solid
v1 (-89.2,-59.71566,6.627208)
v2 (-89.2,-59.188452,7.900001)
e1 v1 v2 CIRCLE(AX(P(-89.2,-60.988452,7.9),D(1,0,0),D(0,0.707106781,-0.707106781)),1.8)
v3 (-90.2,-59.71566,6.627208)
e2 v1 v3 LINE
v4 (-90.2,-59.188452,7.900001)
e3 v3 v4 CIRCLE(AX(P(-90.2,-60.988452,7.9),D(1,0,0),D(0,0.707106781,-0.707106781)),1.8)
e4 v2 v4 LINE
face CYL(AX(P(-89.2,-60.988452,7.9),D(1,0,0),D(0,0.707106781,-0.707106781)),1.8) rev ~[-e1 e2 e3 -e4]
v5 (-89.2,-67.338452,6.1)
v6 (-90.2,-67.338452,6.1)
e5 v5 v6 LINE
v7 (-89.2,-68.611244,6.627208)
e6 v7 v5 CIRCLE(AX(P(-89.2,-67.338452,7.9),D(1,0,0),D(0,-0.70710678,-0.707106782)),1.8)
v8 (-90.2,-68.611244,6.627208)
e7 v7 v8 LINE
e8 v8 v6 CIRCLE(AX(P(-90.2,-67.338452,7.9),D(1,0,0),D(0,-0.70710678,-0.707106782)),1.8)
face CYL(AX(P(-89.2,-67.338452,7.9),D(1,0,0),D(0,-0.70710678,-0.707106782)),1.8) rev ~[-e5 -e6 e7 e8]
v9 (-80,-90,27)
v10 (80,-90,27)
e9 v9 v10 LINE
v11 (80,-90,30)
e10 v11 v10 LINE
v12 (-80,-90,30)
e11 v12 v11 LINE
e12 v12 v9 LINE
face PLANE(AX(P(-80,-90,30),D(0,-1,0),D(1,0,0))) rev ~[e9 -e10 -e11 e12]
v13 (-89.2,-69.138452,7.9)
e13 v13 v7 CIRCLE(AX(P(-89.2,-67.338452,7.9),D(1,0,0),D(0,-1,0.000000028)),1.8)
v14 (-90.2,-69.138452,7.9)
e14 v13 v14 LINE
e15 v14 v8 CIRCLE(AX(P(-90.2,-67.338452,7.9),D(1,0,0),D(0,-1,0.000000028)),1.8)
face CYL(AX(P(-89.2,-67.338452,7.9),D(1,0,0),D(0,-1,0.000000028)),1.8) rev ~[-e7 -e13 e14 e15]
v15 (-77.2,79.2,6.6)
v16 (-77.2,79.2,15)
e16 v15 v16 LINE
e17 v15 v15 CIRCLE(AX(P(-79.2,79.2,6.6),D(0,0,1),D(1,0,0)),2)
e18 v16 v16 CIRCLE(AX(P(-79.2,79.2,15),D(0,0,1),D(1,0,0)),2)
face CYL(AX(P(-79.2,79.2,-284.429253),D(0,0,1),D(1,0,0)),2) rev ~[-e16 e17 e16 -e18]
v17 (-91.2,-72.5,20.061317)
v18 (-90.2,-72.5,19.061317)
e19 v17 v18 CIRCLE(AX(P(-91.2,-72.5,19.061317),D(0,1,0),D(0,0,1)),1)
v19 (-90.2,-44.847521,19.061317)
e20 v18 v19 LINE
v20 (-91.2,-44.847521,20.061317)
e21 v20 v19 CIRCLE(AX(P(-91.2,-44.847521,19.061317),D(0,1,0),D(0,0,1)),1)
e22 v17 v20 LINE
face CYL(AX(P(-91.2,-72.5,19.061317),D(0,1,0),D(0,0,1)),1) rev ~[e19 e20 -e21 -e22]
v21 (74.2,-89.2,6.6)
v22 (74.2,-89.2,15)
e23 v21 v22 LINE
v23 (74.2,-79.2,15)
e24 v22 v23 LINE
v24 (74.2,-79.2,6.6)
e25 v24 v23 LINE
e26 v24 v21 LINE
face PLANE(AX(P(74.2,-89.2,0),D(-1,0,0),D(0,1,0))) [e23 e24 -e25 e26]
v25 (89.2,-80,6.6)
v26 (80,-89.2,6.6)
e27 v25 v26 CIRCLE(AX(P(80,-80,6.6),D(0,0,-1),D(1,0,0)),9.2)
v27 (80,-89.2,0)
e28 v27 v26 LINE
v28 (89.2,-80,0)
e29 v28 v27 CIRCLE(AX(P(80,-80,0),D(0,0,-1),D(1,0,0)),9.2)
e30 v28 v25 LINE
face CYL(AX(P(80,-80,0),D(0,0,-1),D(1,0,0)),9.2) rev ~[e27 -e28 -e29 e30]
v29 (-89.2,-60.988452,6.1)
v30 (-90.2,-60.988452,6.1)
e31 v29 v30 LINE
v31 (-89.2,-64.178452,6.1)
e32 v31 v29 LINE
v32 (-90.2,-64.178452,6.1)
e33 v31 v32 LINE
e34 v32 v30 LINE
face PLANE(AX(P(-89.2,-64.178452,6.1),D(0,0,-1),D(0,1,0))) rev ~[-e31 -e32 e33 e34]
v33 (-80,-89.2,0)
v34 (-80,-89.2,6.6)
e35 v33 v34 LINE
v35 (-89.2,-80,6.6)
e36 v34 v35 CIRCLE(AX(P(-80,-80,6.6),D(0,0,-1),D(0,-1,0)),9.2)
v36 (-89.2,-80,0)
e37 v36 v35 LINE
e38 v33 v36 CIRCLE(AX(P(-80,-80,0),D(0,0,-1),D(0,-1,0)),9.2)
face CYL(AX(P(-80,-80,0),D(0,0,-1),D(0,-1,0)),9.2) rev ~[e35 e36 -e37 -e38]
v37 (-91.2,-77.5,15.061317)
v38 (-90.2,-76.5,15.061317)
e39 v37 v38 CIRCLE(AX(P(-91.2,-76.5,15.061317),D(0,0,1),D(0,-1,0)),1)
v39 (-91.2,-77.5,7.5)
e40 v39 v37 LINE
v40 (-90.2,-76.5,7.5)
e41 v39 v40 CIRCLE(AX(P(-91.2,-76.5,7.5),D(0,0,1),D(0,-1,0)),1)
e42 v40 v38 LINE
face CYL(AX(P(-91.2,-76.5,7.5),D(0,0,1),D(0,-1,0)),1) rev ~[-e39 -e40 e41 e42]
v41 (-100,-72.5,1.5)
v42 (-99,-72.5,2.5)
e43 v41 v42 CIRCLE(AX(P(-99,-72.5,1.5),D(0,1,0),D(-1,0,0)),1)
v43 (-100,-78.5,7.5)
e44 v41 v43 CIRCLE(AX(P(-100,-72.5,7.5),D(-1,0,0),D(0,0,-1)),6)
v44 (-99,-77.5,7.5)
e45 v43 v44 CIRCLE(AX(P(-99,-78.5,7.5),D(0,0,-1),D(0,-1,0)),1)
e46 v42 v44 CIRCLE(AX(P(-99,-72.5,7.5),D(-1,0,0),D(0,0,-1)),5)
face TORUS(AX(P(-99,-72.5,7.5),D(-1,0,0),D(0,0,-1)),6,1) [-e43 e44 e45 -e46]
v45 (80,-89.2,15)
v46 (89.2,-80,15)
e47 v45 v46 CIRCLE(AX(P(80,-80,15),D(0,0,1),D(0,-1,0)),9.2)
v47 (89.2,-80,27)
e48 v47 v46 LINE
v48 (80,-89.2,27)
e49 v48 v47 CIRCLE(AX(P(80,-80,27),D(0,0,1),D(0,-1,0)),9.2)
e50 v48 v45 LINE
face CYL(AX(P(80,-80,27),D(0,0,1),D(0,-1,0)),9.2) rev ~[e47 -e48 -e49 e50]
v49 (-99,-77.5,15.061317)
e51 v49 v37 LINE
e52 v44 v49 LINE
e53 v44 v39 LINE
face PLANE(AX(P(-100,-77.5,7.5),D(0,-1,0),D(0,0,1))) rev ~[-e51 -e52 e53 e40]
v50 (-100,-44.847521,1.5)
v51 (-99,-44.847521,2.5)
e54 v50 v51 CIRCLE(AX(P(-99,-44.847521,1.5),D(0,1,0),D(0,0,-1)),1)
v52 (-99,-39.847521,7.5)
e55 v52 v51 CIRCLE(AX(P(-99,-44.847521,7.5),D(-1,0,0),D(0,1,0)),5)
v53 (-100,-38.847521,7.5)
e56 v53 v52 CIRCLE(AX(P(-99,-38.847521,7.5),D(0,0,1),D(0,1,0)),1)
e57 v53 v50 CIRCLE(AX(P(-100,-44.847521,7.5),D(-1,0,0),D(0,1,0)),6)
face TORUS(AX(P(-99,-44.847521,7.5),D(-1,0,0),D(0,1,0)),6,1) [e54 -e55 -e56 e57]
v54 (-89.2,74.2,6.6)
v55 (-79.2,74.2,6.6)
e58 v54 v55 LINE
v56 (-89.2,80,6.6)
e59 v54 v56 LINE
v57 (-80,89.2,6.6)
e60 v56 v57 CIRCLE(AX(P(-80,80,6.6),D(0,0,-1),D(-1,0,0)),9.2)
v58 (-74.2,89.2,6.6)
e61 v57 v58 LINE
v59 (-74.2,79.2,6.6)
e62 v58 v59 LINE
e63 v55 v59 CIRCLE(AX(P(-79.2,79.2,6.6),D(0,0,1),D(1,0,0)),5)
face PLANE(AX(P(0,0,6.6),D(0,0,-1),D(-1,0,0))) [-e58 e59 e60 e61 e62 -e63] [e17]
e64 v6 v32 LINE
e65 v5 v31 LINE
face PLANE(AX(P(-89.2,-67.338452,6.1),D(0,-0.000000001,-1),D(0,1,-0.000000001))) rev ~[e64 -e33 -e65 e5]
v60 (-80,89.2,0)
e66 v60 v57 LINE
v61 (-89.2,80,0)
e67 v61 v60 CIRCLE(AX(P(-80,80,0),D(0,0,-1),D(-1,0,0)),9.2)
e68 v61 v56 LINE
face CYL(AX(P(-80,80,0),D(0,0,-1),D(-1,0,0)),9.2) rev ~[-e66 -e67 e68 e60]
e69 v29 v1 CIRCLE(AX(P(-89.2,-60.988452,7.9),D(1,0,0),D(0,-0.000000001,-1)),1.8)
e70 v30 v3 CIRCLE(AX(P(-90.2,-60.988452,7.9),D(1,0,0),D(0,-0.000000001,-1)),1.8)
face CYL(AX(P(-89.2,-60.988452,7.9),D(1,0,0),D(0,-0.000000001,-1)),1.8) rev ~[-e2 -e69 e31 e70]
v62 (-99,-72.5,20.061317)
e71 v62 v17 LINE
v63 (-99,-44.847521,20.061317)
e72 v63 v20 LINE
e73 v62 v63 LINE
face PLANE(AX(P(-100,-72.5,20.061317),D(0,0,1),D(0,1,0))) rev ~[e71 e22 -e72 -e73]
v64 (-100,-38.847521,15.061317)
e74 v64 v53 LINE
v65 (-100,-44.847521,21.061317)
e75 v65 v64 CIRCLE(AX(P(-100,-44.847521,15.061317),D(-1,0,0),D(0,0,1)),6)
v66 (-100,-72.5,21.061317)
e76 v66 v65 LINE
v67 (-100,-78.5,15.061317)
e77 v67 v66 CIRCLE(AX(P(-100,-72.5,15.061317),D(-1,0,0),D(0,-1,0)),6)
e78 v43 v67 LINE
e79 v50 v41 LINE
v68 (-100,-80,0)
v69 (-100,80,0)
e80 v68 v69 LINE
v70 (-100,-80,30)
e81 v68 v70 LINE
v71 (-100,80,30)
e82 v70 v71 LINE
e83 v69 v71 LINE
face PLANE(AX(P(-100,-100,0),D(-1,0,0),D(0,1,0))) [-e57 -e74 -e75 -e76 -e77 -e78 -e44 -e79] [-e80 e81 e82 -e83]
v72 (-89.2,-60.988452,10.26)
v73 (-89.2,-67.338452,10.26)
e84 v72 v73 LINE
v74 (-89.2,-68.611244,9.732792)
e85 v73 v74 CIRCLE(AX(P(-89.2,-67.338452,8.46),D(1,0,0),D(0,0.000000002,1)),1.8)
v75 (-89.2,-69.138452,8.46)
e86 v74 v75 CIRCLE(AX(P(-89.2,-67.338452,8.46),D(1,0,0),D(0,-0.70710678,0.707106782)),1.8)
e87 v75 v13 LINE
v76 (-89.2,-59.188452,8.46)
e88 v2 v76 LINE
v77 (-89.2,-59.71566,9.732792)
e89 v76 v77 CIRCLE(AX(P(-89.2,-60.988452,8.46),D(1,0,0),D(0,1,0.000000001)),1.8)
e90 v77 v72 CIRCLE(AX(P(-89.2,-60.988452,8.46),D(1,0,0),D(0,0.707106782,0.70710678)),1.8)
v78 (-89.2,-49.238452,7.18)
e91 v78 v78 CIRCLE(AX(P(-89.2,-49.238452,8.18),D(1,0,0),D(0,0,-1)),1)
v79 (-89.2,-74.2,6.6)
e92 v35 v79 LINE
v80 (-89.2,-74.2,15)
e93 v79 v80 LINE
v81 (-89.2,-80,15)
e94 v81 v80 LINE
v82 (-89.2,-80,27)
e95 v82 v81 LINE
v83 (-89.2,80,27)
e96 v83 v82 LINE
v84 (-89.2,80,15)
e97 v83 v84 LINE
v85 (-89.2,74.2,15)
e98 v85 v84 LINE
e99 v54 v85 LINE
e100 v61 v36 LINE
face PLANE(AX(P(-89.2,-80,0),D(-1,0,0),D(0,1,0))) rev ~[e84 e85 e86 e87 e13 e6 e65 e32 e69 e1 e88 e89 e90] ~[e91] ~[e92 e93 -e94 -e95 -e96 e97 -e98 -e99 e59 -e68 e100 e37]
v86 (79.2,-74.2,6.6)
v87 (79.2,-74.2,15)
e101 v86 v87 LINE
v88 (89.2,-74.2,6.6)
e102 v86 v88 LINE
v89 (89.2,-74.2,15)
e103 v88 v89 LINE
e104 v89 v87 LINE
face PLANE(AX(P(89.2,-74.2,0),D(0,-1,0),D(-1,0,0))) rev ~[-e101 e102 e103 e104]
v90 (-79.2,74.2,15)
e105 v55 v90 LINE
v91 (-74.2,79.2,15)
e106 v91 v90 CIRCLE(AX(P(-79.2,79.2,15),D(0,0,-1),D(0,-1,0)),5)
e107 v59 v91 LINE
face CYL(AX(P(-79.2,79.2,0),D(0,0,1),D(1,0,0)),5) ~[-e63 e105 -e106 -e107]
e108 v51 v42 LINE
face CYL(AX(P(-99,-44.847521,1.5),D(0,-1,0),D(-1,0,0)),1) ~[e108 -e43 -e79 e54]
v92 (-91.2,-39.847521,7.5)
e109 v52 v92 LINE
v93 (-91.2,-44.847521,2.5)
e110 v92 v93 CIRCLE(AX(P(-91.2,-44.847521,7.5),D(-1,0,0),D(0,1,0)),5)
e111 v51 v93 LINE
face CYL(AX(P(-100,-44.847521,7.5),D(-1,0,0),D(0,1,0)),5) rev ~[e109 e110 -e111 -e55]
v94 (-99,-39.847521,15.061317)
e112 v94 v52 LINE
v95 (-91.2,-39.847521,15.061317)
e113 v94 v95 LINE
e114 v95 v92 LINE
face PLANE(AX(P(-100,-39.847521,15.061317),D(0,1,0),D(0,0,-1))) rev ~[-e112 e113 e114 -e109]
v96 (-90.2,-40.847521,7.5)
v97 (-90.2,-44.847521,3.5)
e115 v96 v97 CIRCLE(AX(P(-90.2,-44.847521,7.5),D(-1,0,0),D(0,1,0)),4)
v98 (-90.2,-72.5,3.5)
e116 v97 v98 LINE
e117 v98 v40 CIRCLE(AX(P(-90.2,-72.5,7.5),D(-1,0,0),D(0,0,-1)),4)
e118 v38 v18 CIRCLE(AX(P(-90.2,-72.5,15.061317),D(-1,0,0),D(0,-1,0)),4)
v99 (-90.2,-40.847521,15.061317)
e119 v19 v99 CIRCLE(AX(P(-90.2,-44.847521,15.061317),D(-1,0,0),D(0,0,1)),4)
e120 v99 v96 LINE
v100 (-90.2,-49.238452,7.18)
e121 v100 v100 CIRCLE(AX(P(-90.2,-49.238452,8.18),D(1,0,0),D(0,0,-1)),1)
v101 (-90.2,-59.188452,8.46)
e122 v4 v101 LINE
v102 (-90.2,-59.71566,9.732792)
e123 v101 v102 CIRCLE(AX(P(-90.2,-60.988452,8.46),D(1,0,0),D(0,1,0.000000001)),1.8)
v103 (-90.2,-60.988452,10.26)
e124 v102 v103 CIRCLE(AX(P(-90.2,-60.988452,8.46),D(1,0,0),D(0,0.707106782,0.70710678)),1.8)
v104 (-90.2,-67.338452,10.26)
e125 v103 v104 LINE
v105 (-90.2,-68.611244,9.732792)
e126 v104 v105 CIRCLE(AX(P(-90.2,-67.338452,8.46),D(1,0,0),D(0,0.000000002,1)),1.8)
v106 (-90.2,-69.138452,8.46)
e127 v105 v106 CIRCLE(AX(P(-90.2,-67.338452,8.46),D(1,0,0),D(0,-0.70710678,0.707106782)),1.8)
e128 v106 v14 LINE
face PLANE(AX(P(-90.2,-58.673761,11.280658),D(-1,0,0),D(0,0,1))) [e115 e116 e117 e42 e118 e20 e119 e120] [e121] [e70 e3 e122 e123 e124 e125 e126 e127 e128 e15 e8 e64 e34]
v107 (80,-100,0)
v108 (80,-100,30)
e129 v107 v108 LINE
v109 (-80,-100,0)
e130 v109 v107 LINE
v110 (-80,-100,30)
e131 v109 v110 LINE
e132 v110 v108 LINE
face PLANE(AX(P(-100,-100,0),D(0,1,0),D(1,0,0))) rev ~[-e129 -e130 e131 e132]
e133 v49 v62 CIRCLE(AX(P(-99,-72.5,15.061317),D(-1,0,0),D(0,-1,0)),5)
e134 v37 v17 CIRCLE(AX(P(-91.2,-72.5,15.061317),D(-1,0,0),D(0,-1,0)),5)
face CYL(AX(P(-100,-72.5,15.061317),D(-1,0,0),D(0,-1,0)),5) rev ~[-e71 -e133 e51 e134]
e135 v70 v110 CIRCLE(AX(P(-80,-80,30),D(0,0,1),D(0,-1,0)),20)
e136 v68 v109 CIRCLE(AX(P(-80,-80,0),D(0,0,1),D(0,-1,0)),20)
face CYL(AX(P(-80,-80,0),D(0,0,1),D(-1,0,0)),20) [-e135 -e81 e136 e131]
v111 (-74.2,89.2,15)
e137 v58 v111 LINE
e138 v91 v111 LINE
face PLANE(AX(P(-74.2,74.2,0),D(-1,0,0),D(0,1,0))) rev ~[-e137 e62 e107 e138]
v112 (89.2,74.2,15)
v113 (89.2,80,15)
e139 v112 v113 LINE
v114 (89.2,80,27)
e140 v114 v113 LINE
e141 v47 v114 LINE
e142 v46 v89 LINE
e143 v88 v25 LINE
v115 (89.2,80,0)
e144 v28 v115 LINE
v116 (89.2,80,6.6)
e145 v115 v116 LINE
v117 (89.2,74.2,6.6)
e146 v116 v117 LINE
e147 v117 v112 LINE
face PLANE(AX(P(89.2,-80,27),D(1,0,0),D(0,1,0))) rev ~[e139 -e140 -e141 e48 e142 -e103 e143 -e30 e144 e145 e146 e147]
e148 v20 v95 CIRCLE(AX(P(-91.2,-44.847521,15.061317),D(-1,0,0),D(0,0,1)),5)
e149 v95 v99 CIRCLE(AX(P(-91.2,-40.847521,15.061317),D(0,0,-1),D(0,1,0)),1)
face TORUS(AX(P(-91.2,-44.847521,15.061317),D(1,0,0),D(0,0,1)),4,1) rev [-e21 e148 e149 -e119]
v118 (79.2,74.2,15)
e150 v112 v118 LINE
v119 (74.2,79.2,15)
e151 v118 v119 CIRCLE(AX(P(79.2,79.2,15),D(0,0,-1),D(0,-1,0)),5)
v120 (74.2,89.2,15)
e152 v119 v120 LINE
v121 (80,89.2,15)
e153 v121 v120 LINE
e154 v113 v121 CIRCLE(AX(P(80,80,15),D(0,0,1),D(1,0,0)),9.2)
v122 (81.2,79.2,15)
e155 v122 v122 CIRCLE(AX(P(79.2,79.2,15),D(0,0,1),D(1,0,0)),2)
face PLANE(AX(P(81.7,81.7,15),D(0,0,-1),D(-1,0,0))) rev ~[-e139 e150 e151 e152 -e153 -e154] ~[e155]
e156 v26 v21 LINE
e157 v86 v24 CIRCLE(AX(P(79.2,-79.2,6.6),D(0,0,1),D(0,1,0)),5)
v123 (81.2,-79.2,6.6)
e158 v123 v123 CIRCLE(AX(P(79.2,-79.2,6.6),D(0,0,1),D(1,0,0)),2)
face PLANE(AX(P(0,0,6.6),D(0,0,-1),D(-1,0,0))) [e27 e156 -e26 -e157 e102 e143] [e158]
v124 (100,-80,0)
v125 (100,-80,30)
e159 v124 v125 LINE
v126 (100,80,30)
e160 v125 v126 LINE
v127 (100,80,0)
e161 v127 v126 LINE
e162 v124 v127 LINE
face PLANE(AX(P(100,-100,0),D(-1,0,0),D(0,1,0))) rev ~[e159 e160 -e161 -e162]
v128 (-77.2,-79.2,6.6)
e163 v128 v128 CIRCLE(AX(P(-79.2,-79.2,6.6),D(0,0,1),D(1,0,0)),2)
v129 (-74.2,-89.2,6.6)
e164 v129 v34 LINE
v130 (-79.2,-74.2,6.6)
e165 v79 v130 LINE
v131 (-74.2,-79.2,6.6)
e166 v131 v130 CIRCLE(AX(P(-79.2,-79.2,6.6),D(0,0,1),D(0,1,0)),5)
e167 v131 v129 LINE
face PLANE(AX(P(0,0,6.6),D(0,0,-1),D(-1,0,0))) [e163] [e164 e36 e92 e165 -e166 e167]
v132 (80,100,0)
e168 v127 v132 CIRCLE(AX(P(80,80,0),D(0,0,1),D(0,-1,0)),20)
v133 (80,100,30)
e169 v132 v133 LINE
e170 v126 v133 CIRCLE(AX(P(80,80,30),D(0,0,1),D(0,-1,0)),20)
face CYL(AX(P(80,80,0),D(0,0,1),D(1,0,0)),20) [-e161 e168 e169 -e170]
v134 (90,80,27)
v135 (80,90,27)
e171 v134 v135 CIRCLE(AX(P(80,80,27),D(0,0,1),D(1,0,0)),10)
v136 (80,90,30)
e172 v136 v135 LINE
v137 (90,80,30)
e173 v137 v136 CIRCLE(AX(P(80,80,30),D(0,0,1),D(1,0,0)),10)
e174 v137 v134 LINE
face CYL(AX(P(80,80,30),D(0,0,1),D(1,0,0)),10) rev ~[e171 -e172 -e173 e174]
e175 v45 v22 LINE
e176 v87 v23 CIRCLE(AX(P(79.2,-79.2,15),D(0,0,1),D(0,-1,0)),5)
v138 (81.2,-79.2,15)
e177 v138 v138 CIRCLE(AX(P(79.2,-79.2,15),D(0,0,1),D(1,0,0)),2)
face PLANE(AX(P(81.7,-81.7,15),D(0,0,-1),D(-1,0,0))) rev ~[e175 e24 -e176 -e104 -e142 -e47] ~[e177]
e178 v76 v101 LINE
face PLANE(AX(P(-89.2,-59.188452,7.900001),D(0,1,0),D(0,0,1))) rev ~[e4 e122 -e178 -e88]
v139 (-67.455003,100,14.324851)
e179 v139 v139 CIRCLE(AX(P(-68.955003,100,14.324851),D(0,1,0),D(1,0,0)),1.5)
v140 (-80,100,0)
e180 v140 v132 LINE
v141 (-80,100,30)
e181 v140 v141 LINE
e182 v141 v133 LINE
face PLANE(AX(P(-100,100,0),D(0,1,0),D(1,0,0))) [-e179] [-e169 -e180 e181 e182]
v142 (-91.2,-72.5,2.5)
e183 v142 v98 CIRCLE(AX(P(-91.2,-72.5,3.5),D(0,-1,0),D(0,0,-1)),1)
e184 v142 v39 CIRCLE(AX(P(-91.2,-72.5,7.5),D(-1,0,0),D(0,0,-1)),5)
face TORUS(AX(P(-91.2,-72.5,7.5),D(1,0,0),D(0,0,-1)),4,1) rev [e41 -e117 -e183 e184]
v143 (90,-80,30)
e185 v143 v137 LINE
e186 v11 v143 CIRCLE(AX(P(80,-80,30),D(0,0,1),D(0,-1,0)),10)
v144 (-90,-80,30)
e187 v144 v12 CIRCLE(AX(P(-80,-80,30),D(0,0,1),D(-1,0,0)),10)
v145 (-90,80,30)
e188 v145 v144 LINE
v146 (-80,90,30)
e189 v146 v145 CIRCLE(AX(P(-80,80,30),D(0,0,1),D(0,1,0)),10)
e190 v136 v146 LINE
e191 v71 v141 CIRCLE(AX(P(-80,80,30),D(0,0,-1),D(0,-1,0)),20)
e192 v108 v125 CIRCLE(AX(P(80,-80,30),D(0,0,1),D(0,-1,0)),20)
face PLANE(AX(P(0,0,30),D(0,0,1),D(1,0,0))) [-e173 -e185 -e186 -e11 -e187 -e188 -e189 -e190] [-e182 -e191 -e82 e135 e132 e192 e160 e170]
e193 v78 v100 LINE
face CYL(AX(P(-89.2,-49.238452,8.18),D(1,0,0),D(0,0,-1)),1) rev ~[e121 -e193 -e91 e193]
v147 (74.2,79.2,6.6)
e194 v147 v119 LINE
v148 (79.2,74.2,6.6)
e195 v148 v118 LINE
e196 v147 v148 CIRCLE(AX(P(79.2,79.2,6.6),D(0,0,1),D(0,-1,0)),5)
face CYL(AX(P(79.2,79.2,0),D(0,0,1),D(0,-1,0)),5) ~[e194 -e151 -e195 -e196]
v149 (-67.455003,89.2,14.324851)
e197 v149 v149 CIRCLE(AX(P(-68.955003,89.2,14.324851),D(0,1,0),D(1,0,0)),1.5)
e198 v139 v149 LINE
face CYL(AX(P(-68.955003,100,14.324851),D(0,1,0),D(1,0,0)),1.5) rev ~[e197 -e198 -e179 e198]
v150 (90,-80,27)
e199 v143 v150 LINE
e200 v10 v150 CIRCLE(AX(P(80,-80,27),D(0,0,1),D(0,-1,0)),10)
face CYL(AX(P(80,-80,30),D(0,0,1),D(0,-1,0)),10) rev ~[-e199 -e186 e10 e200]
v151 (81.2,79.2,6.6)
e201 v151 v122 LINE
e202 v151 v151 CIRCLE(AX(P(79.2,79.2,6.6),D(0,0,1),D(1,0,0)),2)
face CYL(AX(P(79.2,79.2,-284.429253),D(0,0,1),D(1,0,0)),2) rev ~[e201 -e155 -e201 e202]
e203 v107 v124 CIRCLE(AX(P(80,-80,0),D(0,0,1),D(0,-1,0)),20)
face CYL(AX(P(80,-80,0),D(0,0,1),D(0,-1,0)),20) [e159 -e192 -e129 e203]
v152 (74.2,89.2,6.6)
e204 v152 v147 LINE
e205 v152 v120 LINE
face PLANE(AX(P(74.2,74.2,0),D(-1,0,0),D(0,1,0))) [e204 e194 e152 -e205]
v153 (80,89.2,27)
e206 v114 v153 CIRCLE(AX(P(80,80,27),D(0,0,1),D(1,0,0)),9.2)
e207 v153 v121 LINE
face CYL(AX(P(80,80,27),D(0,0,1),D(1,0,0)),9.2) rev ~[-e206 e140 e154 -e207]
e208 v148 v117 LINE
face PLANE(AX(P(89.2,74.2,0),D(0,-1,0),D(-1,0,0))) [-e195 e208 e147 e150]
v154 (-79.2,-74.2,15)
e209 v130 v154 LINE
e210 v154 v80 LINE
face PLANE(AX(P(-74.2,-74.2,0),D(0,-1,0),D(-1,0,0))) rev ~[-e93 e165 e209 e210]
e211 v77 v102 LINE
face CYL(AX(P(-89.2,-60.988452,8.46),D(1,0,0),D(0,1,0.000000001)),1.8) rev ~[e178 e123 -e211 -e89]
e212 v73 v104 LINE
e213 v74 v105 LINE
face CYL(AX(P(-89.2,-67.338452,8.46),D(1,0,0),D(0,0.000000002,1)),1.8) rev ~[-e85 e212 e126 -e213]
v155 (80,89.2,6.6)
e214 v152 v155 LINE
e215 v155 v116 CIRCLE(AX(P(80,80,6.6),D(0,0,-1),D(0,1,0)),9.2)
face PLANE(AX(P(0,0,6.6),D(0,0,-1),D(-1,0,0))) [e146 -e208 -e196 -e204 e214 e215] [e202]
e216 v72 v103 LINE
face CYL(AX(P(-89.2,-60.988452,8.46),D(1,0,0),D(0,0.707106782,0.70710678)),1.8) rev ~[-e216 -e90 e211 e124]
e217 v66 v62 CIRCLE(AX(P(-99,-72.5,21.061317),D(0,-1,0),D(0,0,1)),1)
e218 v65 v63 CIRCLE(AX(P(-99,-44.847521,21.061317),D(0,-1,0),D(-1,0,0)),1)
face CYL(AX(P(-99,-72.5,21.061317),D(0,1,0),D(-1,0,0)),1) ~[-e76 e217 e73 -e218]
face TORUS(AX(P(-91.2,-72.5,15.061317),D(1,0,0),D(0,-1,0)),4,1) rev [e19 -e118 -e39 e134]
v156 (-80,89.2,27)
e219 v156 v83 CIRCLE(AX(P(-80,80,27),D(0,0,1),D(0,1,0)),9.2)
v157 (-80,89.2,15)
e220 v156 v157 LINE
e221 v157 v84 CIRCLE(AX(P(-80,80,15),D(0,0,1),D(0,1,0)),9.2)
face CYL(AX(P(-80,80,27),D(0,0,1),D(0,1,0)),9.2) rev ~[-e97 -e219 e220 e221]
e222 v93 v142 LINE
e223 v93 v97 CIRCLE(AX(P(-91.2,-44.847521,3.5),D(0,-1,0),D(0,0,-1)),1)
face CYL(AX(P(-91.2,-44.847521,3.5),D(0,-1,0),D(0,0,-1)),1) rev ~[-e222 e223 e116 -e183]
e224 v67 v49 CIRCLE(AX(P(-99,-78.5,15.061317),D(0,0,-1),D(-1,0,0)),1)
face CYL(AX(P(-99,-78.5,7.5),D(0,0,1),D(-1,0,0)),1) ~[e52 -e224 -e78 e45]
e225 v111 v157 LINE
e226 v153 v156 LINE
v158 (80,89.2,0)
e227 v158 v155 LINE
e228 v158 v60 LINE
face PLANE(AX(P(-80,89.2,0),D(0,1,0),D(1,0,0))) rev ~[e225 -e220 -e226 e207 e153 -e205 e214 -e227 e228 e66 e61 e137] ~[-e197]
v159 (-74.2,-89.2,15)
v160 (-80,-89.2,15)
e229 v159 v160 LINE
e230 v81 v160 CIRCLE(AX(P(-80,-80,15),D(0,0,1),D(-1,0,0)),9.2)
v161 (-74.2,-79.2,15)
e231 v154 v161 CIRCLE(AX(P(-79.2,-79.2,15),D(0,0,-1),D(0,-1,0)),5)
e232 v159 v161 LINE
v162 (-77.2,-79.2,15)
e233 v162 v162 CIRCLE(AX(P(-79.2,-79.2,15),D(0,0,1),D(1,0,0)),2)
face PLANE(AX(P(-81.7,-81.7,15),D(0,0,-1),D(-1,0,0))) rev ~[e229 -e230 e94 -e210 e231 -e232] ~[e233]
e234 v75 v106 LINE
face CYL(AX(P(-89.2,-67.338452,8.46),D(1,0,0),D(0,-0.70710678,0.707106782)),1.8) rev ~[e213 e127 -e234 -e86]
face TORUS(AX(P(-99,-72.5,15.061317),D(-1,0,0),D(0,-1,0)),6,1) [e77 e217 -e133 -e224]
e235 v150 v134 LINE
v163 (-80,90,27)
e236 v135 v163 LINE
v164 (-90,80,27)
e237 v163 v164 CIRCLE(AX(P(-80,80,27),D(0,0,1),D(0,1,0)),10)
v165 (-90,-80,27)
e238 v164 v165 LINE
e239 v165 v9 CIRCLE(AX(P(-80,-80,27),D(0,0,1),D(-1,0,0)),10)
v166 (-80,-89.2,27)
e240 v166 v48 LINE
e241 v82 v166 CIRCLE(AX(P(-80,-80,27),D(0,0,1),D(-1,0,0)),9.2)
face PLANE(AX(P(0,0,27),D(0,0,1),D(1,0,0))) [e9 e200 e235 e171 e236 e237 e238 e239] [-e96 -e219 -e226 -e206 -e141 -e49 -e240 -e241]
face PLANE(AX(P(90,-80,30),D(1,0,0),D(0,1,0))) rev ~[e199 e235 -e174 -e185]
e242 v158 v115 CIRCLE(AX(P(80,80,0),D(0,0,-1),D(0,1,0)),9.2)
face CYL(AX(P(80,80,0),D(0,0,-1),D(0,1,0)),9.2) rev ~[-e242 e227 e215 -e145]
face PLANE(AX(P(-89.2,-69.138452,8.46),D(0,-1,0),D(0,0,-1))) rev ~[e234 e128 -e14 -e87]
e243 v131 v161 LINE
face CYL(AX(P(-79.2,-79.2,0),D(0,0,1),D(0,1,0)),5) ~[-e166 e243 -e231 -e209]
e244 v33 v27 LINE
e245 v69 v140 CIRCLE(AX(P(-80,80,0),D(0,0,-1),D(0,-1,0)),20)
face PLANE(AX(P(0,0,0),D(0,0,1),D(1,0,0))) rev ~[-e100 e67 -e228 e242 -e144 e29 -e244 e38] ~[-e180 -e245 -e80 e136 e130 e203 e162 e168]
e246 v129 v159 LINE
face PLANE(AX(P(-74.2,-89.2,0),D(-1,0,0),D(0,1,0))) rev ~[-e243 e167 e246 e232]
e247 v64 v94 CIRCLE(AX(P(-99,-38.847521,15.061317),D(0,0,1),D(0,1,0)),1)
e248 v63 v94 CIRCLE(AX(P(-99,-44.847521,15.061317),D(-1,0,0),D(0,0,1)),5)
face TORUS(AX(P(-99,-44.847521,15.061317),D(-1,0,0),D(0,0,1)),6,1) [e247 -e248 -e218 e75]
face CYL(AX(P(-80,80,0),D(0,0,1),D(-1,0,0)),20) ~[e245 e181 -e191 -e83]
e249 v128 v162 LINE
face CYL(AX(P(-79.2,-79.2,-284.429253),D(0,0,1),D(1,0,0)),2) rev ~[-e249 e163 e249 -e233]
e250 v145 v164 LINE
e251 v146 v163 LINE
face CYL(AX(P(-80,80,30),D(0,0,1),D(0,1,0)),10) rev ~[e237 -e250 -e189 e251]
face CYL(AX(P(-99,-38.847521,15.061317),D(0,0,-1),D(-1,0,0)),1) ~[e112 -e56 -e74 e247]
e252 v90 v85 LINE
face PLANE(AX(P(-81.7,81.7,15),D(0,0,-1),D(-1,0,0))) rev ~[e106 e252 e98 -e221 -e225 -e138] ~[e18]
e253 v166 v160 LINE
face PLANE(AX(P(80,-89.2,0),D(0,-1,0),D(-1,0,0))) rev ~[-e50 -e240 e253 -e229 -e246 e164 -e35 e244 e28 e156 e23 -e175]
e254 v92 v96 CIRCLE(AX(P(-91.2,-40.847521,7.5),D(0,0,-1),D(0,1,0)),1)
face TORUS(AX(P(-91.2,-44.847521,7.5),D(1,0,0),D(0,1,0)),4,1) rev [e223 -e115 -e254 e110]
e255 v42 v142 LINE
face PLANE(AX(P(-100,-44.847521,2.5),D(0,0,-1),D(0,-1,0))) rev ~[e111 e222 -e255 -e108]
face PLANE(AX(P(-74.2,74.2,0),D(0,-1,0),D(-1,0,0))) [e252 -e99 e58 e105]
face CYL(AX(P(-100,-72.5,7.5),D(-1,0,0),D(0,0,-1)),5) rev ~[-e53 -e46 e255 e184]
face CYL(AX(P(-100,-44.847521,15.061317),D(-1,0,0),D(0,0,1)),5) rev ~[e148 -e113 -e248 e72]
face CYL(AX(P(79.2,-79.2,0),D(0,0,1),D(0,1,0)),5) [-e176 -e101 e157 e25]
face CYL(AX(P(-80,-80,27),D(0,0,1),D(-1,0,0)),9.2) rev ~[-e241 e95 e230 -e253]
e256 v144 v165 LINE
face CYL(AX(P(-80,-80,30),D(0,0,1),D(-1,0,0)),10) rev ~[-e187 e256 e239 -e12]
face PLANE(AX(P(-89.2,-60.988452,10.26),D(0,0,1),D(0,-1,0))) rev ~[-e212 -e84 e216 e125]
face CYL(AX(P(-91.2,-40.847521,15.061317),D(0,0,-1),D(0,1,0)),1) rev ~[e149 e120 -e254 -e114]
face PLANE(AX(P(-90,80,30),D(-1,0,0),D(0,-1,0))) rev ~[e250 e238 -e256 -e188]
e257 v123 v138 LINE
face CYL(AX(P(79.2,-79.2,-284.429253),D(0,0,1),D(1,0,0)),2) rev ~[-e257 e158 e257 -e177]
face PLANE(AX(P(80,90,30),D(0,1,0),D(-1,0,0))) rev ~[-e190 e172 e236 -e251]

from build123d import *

# Parameters (mm, degrees)
SKETCH2_W                = 200
SKETCH2_H                = 200
BOSS_EXTRUDE1_DEPTH      = 30
FILLET1_R                = 20
CUT_EXTRUDE1_DEPTH       = 3
CUT_EXTRUDE2_DEPTH       = 28
SKETCH6_W                = 15
SKETCH6_H                = 15
BOSS_EXTRUDE4_DEPTH      = 15
FILLET2_R                = 5
F_4_0_4_DIAMETER_HOLE1_D = 4
CUT_EXTRUDE3_DEPTH       = 6.6
CUT_EXTRUDE4_REACH       = 202
SKETCH11_R               = 1.5
SKETCH15_R               = 1
CUT_EXTRUDE5_DEPTH       = 11.8
CUT_EXTRUDE7_DEPTH       = 9.8
FILLET3_R                = 1


with BuildPart() as part:
    # Sketch2 → Boss-Extrude1 (new body)
    with BuildSketch(Plane.XY):
        Rectangle(SKETCH2_W, SKETCH2_H)
    extrude(amount=BOSS_EXTRUDE1_DEPTH)

    # Fillet1
    fillet1_edges = [part.edges().sort_by_distance(p)[0] for p in [
        (100, -100, 15),
        (-100, -100, 15),
        (-100, 100, 15),
        (100, 100, 15),
    ]]
    fillet(fillet1_edges, radius=FILLET1_R)

    # Sketch3 → Cut-Extrude1 (cut)
    with BuildSketch(Plane.XY.offset(30)):
        with BuildLine():
            Line((-90, 80), (-90, -80))
            ThreePointArc((-90, -80), (-87.071067812, -87.071067812), (-80, -90))
            Line((-80, -90), (80, -90))
            ThreePointArc((80, -90), (87.071067812, -87.071067812), (90, -80))
            Line((90, -80), (90, 80))
            ThreePointArc((90, 80), (87.071067812, 87.071067812), (80, 90))
            Line((80, 90), (-80, 90))
            ThreePointArc((-80, 90), (-87.071067812, 87.071067812), (-90, 80))
        make_face()
    extrude(amount=-CUT_EXTRUDE1_DEPTH, mode=Mode.SUBTRACT)

    # Sketch4 → Cut-Extrude2 (cut, through all)
    with BuildSketch(Plane.XY.offset(27)):
        with BuildLine():
            Line((-89.2, 80), (-89.2, -80))
            ThreePointArc((-89.2, -80), (-86.505382387, -86.505382387), (-80, -89.2))
            Line((-80, -89.2), (80, -89.2))
            ThreePointArc((80, -89.2), (86.505382387, -86.505382387), (89.2, -80))
            Line((89.2, -80), (89.2, 80))
            ThreePointArc((89.2, 80), (86.505382387, 86.505382387), (80, 89.2))
            Line((80, 89.2), (-80, 89.2))
            ThreePointArc((-80, 89.2), (-86.505382387, 86.505382387), (-89.2, 80))
        make_face()
    extrude(amount=-CUT_EXTRUDE2_DEPTH, mode=Mode.SUBTRACT)

    # Sketch6 → Boss-Extrude4 (add)
    with BuildSketch(Plane(origin=(0, 0, 0), x_dir=(-1, 0, 0), z_dir=(0, 0, -1))):
        with Locations((-81.7, -81.7)):
            Rectangle(SKETCH6_W, SKETCH6_H)
        with Locations((-81.7, 81.7)):
            Rectangle(SKETCH6_W, SKETCH6_H)
        with Locations((81.7, 81.7)):
            Rectangle(SKETCH6_W, SKETCH6_H)
        with Locations((81.7, -81.7)):
            Rectangle(SKETCH6_W, SKETCH6_H)
    extrude(amount=-BOSS_EXTRUDE4_DEPTH)

    # Fillet2
    fillet2_edges = [part.edges().sort_by_distance(p)[0] for p in [
        (74.2, 74.2, 7.5),
        (-74.2, 74.2, 7.5),
        (-74.2, -74.2, 7.5),
        (74.2, -74.2, 7.5),
    ]]
    fillet(fillet2_edges, radius=FILLET2_R)

    # Ø4.0 (4) Diameter Hole1 (through all)
    with Locations(Plane(origin=(0, 0, 0), x_dir=(-1, 0, 0), z_dir=(0, 0, -1))):
        with Locations((-79.2, 79.2), (79.2, 79.2), (-79.2, -79.2), (79.2, -79.2)):
            Hole(F_4_0_4_DIAMETER_HOLE1_D / 2)

    # Sketch10 → Cut-Extrude3 (cut)
    with BuildSketch(Plane(origin=(0, 0, 0), x_dir=(-1, 0, 0), z_dir=(0, 0, -1))):
        with BuildLine():
            Line((89.2, -80), (89.2, 80))
            ThreePointArc((89.2, 80), (86.505382387, 86.505382387), (80, 89.2))
            Line((80, 89.2), (-80, 89.2))
            ThreePointArc((-80, 89.2), (-86.505382387, 86.505382387), (-89.2, 80))
            Line((-89.2, 80), (-89.2, -80))
            ThreePointArc((-89.2, -80), (-86.505382387, -86.505382387), (-80, -89.2))
            Line((-80, -89.2), (80, -89.2))
            ThreePointArc((80, -89.2), (86.505382387, -86.505382387), (89.2, -80))
        make_face()
    extrude(amount=-CUT_EXTRUDE3_DEPTH, mode=Mode.SUBTRACT)

    # Sketch11 → Cut-Extrude4 (cut, up to next)
    with BuildSketch(Plane(origin=(0, 100, 0), x_dir=(1, 0, 0), z_dir=(0, 1, 0)), mode=Mode.PRIVATE) as cut_extrude4_sk1:
        with Locations((-68.95500318, -14.324851484)):
            Circle(SKETCH11_R)
    cut_extrude4_tool1 = extrude(cut_extrude4_sk1.sketch, amount=-CUT_EXTRUDE4_REACH, mode=Mode.PRIVATE) & part.part
    add(cut_extrude4_tool1.solids().sort_by_distance((-68.955003, 100, 14.324851))[0], mode=Mode.SUBTRACT)

    # Sketch15 → Cut-Extrude5 (cut, through all)
    with BuildSketch(Plane(origin=(-89.2, 0, 0), x_dir=(0, 0, -1), z_dir=(1, 0, 0))):
        with Locations((-8.179999988, -49.23845191)):
            Circle(SKETCH15_R)
        with BuildLine():
            Line((-6.1, -64.178451904), (-6.1, -64.148451912))
            Line((-6.1, -64.148451912), (-6.1, -60.988451904))
            ThreePointArc((-6.1, -60.988451904), (-6.237016841, -60.299621726), (-6.627207794, -59.715659698))
            ThreePointArc((-6.627207794, -59.715659698), (-7.211170067, -59.325468644), (-7.90000053, -59.188451904))
            Line((-7.90000053, -59.188451904), (-8.46, -59.188451904))
            ThreePointArc((-8.46, -59.188451904), (-9.148830178, -59.325468746), (-9.732792206, -59.715659698))
            ThreePointArc((-9.732792206, -59.715659698), (-10.122983159, -60.299621726), (-10.26, -60.988451904))
            Line((-10.26, -60.988451904), (-10.26, -67.338451904))
            ThreePointArc((-10.26, -67.338451904), (-10.122983159, -68.027282082), (-9.732792205, -68.611244109))
            ThreePointArc((-9.732792205, -68.611244109), (-9.148830178, -69.001435061), (-8.46, -69.138451901))
            Line((-8.46, -69.138451901), (-7.900000051, -69.138451901))
            ThreePointArc((-7.900000051, -69.138451901), (-7.211169847, -69.001435069), (-6.627207798, -68.611244107))
            ThreePointArc((-6.627207798, -68.611244107), (-6.237016846, -68.02728208), (-6.100000002, -67.338451904))
            Line((-6.100000002, -67.338451904), (-6.1, -64.178451904))
        make_face()
    extrude(amount=-CUT_EXTRUDE5_DEPTH, mode=Mode.SUBTRACT)

    # Sketch17 → Cut-Extrude7 (cut)
    with BuildSketch(Plane.ZY.offset(100)):
        with BuildLine():
            Line((15.061316978, -39.847521487), (7.5, -39.847521487))
            ThreePointArc((7.5, -39.847521487), (3.964466094, -41.311987581), (2.5, -44.847521487))
            Line((2.5, -44.847521487), (2.5, -72.5))
            ThreePointArc((2.5, -72.5), (3.964466094, -76.035533906), (7.5, -77.5))
            Line((7.5, -77.5), (15.061316978, -77.5))
            ThreePointArc((15.061316978, -77.5), (18.596850884, -76.035533906), (20.061316978, -72.5))
            Line((20.061316978, -72.5), (20.061316978, -44.847521487))
            ThreePointArc((20.061316978, -44.847521487), (18.596850884, -41.311987581), (15.061316978, -39.847521487))
        make_face()
    extrude(amount=-CUT_EXTRUDE7_DEPTH, mode=Mode.SUBTRACT)

    # Fillet3
    fillet3_edges = [part.edges().sort_by_distance(p)[0] for p in [
        (-100, -41.311987581, 3.964466094),
        (-100, -58.673760744, 2.5),
        (-100, -76.035533906, 3.964466094),
        (-100, -77.5, 11.280658489),
        (-100, -76.035533906, 18.596850884),
        (-100, -58.673760744, 20.061316978),
        (-100, -41.311987581, 18.596850884),
        (-100, -39.847521487, 11.280658489),
        (-90.2, -41.311987581, 3.964466094),
        (-90.2, -39.847521487, 11.280658489),
        (-90.2, -41.311987581, 18.596850884),
        (-90.2, -58.673760744, 20.061316978),
        (-90.2, -76.035533906, 18.596850884),
        (-90.2, -77.5, 11.280658489),
        (-90.2, -76.035533906, 3.964466094),
        (-90.2, -58.673760744, 2.5),
    ]]
    fillet(fillet3_edges, radius=FILLET3_R)


solid = part.part
